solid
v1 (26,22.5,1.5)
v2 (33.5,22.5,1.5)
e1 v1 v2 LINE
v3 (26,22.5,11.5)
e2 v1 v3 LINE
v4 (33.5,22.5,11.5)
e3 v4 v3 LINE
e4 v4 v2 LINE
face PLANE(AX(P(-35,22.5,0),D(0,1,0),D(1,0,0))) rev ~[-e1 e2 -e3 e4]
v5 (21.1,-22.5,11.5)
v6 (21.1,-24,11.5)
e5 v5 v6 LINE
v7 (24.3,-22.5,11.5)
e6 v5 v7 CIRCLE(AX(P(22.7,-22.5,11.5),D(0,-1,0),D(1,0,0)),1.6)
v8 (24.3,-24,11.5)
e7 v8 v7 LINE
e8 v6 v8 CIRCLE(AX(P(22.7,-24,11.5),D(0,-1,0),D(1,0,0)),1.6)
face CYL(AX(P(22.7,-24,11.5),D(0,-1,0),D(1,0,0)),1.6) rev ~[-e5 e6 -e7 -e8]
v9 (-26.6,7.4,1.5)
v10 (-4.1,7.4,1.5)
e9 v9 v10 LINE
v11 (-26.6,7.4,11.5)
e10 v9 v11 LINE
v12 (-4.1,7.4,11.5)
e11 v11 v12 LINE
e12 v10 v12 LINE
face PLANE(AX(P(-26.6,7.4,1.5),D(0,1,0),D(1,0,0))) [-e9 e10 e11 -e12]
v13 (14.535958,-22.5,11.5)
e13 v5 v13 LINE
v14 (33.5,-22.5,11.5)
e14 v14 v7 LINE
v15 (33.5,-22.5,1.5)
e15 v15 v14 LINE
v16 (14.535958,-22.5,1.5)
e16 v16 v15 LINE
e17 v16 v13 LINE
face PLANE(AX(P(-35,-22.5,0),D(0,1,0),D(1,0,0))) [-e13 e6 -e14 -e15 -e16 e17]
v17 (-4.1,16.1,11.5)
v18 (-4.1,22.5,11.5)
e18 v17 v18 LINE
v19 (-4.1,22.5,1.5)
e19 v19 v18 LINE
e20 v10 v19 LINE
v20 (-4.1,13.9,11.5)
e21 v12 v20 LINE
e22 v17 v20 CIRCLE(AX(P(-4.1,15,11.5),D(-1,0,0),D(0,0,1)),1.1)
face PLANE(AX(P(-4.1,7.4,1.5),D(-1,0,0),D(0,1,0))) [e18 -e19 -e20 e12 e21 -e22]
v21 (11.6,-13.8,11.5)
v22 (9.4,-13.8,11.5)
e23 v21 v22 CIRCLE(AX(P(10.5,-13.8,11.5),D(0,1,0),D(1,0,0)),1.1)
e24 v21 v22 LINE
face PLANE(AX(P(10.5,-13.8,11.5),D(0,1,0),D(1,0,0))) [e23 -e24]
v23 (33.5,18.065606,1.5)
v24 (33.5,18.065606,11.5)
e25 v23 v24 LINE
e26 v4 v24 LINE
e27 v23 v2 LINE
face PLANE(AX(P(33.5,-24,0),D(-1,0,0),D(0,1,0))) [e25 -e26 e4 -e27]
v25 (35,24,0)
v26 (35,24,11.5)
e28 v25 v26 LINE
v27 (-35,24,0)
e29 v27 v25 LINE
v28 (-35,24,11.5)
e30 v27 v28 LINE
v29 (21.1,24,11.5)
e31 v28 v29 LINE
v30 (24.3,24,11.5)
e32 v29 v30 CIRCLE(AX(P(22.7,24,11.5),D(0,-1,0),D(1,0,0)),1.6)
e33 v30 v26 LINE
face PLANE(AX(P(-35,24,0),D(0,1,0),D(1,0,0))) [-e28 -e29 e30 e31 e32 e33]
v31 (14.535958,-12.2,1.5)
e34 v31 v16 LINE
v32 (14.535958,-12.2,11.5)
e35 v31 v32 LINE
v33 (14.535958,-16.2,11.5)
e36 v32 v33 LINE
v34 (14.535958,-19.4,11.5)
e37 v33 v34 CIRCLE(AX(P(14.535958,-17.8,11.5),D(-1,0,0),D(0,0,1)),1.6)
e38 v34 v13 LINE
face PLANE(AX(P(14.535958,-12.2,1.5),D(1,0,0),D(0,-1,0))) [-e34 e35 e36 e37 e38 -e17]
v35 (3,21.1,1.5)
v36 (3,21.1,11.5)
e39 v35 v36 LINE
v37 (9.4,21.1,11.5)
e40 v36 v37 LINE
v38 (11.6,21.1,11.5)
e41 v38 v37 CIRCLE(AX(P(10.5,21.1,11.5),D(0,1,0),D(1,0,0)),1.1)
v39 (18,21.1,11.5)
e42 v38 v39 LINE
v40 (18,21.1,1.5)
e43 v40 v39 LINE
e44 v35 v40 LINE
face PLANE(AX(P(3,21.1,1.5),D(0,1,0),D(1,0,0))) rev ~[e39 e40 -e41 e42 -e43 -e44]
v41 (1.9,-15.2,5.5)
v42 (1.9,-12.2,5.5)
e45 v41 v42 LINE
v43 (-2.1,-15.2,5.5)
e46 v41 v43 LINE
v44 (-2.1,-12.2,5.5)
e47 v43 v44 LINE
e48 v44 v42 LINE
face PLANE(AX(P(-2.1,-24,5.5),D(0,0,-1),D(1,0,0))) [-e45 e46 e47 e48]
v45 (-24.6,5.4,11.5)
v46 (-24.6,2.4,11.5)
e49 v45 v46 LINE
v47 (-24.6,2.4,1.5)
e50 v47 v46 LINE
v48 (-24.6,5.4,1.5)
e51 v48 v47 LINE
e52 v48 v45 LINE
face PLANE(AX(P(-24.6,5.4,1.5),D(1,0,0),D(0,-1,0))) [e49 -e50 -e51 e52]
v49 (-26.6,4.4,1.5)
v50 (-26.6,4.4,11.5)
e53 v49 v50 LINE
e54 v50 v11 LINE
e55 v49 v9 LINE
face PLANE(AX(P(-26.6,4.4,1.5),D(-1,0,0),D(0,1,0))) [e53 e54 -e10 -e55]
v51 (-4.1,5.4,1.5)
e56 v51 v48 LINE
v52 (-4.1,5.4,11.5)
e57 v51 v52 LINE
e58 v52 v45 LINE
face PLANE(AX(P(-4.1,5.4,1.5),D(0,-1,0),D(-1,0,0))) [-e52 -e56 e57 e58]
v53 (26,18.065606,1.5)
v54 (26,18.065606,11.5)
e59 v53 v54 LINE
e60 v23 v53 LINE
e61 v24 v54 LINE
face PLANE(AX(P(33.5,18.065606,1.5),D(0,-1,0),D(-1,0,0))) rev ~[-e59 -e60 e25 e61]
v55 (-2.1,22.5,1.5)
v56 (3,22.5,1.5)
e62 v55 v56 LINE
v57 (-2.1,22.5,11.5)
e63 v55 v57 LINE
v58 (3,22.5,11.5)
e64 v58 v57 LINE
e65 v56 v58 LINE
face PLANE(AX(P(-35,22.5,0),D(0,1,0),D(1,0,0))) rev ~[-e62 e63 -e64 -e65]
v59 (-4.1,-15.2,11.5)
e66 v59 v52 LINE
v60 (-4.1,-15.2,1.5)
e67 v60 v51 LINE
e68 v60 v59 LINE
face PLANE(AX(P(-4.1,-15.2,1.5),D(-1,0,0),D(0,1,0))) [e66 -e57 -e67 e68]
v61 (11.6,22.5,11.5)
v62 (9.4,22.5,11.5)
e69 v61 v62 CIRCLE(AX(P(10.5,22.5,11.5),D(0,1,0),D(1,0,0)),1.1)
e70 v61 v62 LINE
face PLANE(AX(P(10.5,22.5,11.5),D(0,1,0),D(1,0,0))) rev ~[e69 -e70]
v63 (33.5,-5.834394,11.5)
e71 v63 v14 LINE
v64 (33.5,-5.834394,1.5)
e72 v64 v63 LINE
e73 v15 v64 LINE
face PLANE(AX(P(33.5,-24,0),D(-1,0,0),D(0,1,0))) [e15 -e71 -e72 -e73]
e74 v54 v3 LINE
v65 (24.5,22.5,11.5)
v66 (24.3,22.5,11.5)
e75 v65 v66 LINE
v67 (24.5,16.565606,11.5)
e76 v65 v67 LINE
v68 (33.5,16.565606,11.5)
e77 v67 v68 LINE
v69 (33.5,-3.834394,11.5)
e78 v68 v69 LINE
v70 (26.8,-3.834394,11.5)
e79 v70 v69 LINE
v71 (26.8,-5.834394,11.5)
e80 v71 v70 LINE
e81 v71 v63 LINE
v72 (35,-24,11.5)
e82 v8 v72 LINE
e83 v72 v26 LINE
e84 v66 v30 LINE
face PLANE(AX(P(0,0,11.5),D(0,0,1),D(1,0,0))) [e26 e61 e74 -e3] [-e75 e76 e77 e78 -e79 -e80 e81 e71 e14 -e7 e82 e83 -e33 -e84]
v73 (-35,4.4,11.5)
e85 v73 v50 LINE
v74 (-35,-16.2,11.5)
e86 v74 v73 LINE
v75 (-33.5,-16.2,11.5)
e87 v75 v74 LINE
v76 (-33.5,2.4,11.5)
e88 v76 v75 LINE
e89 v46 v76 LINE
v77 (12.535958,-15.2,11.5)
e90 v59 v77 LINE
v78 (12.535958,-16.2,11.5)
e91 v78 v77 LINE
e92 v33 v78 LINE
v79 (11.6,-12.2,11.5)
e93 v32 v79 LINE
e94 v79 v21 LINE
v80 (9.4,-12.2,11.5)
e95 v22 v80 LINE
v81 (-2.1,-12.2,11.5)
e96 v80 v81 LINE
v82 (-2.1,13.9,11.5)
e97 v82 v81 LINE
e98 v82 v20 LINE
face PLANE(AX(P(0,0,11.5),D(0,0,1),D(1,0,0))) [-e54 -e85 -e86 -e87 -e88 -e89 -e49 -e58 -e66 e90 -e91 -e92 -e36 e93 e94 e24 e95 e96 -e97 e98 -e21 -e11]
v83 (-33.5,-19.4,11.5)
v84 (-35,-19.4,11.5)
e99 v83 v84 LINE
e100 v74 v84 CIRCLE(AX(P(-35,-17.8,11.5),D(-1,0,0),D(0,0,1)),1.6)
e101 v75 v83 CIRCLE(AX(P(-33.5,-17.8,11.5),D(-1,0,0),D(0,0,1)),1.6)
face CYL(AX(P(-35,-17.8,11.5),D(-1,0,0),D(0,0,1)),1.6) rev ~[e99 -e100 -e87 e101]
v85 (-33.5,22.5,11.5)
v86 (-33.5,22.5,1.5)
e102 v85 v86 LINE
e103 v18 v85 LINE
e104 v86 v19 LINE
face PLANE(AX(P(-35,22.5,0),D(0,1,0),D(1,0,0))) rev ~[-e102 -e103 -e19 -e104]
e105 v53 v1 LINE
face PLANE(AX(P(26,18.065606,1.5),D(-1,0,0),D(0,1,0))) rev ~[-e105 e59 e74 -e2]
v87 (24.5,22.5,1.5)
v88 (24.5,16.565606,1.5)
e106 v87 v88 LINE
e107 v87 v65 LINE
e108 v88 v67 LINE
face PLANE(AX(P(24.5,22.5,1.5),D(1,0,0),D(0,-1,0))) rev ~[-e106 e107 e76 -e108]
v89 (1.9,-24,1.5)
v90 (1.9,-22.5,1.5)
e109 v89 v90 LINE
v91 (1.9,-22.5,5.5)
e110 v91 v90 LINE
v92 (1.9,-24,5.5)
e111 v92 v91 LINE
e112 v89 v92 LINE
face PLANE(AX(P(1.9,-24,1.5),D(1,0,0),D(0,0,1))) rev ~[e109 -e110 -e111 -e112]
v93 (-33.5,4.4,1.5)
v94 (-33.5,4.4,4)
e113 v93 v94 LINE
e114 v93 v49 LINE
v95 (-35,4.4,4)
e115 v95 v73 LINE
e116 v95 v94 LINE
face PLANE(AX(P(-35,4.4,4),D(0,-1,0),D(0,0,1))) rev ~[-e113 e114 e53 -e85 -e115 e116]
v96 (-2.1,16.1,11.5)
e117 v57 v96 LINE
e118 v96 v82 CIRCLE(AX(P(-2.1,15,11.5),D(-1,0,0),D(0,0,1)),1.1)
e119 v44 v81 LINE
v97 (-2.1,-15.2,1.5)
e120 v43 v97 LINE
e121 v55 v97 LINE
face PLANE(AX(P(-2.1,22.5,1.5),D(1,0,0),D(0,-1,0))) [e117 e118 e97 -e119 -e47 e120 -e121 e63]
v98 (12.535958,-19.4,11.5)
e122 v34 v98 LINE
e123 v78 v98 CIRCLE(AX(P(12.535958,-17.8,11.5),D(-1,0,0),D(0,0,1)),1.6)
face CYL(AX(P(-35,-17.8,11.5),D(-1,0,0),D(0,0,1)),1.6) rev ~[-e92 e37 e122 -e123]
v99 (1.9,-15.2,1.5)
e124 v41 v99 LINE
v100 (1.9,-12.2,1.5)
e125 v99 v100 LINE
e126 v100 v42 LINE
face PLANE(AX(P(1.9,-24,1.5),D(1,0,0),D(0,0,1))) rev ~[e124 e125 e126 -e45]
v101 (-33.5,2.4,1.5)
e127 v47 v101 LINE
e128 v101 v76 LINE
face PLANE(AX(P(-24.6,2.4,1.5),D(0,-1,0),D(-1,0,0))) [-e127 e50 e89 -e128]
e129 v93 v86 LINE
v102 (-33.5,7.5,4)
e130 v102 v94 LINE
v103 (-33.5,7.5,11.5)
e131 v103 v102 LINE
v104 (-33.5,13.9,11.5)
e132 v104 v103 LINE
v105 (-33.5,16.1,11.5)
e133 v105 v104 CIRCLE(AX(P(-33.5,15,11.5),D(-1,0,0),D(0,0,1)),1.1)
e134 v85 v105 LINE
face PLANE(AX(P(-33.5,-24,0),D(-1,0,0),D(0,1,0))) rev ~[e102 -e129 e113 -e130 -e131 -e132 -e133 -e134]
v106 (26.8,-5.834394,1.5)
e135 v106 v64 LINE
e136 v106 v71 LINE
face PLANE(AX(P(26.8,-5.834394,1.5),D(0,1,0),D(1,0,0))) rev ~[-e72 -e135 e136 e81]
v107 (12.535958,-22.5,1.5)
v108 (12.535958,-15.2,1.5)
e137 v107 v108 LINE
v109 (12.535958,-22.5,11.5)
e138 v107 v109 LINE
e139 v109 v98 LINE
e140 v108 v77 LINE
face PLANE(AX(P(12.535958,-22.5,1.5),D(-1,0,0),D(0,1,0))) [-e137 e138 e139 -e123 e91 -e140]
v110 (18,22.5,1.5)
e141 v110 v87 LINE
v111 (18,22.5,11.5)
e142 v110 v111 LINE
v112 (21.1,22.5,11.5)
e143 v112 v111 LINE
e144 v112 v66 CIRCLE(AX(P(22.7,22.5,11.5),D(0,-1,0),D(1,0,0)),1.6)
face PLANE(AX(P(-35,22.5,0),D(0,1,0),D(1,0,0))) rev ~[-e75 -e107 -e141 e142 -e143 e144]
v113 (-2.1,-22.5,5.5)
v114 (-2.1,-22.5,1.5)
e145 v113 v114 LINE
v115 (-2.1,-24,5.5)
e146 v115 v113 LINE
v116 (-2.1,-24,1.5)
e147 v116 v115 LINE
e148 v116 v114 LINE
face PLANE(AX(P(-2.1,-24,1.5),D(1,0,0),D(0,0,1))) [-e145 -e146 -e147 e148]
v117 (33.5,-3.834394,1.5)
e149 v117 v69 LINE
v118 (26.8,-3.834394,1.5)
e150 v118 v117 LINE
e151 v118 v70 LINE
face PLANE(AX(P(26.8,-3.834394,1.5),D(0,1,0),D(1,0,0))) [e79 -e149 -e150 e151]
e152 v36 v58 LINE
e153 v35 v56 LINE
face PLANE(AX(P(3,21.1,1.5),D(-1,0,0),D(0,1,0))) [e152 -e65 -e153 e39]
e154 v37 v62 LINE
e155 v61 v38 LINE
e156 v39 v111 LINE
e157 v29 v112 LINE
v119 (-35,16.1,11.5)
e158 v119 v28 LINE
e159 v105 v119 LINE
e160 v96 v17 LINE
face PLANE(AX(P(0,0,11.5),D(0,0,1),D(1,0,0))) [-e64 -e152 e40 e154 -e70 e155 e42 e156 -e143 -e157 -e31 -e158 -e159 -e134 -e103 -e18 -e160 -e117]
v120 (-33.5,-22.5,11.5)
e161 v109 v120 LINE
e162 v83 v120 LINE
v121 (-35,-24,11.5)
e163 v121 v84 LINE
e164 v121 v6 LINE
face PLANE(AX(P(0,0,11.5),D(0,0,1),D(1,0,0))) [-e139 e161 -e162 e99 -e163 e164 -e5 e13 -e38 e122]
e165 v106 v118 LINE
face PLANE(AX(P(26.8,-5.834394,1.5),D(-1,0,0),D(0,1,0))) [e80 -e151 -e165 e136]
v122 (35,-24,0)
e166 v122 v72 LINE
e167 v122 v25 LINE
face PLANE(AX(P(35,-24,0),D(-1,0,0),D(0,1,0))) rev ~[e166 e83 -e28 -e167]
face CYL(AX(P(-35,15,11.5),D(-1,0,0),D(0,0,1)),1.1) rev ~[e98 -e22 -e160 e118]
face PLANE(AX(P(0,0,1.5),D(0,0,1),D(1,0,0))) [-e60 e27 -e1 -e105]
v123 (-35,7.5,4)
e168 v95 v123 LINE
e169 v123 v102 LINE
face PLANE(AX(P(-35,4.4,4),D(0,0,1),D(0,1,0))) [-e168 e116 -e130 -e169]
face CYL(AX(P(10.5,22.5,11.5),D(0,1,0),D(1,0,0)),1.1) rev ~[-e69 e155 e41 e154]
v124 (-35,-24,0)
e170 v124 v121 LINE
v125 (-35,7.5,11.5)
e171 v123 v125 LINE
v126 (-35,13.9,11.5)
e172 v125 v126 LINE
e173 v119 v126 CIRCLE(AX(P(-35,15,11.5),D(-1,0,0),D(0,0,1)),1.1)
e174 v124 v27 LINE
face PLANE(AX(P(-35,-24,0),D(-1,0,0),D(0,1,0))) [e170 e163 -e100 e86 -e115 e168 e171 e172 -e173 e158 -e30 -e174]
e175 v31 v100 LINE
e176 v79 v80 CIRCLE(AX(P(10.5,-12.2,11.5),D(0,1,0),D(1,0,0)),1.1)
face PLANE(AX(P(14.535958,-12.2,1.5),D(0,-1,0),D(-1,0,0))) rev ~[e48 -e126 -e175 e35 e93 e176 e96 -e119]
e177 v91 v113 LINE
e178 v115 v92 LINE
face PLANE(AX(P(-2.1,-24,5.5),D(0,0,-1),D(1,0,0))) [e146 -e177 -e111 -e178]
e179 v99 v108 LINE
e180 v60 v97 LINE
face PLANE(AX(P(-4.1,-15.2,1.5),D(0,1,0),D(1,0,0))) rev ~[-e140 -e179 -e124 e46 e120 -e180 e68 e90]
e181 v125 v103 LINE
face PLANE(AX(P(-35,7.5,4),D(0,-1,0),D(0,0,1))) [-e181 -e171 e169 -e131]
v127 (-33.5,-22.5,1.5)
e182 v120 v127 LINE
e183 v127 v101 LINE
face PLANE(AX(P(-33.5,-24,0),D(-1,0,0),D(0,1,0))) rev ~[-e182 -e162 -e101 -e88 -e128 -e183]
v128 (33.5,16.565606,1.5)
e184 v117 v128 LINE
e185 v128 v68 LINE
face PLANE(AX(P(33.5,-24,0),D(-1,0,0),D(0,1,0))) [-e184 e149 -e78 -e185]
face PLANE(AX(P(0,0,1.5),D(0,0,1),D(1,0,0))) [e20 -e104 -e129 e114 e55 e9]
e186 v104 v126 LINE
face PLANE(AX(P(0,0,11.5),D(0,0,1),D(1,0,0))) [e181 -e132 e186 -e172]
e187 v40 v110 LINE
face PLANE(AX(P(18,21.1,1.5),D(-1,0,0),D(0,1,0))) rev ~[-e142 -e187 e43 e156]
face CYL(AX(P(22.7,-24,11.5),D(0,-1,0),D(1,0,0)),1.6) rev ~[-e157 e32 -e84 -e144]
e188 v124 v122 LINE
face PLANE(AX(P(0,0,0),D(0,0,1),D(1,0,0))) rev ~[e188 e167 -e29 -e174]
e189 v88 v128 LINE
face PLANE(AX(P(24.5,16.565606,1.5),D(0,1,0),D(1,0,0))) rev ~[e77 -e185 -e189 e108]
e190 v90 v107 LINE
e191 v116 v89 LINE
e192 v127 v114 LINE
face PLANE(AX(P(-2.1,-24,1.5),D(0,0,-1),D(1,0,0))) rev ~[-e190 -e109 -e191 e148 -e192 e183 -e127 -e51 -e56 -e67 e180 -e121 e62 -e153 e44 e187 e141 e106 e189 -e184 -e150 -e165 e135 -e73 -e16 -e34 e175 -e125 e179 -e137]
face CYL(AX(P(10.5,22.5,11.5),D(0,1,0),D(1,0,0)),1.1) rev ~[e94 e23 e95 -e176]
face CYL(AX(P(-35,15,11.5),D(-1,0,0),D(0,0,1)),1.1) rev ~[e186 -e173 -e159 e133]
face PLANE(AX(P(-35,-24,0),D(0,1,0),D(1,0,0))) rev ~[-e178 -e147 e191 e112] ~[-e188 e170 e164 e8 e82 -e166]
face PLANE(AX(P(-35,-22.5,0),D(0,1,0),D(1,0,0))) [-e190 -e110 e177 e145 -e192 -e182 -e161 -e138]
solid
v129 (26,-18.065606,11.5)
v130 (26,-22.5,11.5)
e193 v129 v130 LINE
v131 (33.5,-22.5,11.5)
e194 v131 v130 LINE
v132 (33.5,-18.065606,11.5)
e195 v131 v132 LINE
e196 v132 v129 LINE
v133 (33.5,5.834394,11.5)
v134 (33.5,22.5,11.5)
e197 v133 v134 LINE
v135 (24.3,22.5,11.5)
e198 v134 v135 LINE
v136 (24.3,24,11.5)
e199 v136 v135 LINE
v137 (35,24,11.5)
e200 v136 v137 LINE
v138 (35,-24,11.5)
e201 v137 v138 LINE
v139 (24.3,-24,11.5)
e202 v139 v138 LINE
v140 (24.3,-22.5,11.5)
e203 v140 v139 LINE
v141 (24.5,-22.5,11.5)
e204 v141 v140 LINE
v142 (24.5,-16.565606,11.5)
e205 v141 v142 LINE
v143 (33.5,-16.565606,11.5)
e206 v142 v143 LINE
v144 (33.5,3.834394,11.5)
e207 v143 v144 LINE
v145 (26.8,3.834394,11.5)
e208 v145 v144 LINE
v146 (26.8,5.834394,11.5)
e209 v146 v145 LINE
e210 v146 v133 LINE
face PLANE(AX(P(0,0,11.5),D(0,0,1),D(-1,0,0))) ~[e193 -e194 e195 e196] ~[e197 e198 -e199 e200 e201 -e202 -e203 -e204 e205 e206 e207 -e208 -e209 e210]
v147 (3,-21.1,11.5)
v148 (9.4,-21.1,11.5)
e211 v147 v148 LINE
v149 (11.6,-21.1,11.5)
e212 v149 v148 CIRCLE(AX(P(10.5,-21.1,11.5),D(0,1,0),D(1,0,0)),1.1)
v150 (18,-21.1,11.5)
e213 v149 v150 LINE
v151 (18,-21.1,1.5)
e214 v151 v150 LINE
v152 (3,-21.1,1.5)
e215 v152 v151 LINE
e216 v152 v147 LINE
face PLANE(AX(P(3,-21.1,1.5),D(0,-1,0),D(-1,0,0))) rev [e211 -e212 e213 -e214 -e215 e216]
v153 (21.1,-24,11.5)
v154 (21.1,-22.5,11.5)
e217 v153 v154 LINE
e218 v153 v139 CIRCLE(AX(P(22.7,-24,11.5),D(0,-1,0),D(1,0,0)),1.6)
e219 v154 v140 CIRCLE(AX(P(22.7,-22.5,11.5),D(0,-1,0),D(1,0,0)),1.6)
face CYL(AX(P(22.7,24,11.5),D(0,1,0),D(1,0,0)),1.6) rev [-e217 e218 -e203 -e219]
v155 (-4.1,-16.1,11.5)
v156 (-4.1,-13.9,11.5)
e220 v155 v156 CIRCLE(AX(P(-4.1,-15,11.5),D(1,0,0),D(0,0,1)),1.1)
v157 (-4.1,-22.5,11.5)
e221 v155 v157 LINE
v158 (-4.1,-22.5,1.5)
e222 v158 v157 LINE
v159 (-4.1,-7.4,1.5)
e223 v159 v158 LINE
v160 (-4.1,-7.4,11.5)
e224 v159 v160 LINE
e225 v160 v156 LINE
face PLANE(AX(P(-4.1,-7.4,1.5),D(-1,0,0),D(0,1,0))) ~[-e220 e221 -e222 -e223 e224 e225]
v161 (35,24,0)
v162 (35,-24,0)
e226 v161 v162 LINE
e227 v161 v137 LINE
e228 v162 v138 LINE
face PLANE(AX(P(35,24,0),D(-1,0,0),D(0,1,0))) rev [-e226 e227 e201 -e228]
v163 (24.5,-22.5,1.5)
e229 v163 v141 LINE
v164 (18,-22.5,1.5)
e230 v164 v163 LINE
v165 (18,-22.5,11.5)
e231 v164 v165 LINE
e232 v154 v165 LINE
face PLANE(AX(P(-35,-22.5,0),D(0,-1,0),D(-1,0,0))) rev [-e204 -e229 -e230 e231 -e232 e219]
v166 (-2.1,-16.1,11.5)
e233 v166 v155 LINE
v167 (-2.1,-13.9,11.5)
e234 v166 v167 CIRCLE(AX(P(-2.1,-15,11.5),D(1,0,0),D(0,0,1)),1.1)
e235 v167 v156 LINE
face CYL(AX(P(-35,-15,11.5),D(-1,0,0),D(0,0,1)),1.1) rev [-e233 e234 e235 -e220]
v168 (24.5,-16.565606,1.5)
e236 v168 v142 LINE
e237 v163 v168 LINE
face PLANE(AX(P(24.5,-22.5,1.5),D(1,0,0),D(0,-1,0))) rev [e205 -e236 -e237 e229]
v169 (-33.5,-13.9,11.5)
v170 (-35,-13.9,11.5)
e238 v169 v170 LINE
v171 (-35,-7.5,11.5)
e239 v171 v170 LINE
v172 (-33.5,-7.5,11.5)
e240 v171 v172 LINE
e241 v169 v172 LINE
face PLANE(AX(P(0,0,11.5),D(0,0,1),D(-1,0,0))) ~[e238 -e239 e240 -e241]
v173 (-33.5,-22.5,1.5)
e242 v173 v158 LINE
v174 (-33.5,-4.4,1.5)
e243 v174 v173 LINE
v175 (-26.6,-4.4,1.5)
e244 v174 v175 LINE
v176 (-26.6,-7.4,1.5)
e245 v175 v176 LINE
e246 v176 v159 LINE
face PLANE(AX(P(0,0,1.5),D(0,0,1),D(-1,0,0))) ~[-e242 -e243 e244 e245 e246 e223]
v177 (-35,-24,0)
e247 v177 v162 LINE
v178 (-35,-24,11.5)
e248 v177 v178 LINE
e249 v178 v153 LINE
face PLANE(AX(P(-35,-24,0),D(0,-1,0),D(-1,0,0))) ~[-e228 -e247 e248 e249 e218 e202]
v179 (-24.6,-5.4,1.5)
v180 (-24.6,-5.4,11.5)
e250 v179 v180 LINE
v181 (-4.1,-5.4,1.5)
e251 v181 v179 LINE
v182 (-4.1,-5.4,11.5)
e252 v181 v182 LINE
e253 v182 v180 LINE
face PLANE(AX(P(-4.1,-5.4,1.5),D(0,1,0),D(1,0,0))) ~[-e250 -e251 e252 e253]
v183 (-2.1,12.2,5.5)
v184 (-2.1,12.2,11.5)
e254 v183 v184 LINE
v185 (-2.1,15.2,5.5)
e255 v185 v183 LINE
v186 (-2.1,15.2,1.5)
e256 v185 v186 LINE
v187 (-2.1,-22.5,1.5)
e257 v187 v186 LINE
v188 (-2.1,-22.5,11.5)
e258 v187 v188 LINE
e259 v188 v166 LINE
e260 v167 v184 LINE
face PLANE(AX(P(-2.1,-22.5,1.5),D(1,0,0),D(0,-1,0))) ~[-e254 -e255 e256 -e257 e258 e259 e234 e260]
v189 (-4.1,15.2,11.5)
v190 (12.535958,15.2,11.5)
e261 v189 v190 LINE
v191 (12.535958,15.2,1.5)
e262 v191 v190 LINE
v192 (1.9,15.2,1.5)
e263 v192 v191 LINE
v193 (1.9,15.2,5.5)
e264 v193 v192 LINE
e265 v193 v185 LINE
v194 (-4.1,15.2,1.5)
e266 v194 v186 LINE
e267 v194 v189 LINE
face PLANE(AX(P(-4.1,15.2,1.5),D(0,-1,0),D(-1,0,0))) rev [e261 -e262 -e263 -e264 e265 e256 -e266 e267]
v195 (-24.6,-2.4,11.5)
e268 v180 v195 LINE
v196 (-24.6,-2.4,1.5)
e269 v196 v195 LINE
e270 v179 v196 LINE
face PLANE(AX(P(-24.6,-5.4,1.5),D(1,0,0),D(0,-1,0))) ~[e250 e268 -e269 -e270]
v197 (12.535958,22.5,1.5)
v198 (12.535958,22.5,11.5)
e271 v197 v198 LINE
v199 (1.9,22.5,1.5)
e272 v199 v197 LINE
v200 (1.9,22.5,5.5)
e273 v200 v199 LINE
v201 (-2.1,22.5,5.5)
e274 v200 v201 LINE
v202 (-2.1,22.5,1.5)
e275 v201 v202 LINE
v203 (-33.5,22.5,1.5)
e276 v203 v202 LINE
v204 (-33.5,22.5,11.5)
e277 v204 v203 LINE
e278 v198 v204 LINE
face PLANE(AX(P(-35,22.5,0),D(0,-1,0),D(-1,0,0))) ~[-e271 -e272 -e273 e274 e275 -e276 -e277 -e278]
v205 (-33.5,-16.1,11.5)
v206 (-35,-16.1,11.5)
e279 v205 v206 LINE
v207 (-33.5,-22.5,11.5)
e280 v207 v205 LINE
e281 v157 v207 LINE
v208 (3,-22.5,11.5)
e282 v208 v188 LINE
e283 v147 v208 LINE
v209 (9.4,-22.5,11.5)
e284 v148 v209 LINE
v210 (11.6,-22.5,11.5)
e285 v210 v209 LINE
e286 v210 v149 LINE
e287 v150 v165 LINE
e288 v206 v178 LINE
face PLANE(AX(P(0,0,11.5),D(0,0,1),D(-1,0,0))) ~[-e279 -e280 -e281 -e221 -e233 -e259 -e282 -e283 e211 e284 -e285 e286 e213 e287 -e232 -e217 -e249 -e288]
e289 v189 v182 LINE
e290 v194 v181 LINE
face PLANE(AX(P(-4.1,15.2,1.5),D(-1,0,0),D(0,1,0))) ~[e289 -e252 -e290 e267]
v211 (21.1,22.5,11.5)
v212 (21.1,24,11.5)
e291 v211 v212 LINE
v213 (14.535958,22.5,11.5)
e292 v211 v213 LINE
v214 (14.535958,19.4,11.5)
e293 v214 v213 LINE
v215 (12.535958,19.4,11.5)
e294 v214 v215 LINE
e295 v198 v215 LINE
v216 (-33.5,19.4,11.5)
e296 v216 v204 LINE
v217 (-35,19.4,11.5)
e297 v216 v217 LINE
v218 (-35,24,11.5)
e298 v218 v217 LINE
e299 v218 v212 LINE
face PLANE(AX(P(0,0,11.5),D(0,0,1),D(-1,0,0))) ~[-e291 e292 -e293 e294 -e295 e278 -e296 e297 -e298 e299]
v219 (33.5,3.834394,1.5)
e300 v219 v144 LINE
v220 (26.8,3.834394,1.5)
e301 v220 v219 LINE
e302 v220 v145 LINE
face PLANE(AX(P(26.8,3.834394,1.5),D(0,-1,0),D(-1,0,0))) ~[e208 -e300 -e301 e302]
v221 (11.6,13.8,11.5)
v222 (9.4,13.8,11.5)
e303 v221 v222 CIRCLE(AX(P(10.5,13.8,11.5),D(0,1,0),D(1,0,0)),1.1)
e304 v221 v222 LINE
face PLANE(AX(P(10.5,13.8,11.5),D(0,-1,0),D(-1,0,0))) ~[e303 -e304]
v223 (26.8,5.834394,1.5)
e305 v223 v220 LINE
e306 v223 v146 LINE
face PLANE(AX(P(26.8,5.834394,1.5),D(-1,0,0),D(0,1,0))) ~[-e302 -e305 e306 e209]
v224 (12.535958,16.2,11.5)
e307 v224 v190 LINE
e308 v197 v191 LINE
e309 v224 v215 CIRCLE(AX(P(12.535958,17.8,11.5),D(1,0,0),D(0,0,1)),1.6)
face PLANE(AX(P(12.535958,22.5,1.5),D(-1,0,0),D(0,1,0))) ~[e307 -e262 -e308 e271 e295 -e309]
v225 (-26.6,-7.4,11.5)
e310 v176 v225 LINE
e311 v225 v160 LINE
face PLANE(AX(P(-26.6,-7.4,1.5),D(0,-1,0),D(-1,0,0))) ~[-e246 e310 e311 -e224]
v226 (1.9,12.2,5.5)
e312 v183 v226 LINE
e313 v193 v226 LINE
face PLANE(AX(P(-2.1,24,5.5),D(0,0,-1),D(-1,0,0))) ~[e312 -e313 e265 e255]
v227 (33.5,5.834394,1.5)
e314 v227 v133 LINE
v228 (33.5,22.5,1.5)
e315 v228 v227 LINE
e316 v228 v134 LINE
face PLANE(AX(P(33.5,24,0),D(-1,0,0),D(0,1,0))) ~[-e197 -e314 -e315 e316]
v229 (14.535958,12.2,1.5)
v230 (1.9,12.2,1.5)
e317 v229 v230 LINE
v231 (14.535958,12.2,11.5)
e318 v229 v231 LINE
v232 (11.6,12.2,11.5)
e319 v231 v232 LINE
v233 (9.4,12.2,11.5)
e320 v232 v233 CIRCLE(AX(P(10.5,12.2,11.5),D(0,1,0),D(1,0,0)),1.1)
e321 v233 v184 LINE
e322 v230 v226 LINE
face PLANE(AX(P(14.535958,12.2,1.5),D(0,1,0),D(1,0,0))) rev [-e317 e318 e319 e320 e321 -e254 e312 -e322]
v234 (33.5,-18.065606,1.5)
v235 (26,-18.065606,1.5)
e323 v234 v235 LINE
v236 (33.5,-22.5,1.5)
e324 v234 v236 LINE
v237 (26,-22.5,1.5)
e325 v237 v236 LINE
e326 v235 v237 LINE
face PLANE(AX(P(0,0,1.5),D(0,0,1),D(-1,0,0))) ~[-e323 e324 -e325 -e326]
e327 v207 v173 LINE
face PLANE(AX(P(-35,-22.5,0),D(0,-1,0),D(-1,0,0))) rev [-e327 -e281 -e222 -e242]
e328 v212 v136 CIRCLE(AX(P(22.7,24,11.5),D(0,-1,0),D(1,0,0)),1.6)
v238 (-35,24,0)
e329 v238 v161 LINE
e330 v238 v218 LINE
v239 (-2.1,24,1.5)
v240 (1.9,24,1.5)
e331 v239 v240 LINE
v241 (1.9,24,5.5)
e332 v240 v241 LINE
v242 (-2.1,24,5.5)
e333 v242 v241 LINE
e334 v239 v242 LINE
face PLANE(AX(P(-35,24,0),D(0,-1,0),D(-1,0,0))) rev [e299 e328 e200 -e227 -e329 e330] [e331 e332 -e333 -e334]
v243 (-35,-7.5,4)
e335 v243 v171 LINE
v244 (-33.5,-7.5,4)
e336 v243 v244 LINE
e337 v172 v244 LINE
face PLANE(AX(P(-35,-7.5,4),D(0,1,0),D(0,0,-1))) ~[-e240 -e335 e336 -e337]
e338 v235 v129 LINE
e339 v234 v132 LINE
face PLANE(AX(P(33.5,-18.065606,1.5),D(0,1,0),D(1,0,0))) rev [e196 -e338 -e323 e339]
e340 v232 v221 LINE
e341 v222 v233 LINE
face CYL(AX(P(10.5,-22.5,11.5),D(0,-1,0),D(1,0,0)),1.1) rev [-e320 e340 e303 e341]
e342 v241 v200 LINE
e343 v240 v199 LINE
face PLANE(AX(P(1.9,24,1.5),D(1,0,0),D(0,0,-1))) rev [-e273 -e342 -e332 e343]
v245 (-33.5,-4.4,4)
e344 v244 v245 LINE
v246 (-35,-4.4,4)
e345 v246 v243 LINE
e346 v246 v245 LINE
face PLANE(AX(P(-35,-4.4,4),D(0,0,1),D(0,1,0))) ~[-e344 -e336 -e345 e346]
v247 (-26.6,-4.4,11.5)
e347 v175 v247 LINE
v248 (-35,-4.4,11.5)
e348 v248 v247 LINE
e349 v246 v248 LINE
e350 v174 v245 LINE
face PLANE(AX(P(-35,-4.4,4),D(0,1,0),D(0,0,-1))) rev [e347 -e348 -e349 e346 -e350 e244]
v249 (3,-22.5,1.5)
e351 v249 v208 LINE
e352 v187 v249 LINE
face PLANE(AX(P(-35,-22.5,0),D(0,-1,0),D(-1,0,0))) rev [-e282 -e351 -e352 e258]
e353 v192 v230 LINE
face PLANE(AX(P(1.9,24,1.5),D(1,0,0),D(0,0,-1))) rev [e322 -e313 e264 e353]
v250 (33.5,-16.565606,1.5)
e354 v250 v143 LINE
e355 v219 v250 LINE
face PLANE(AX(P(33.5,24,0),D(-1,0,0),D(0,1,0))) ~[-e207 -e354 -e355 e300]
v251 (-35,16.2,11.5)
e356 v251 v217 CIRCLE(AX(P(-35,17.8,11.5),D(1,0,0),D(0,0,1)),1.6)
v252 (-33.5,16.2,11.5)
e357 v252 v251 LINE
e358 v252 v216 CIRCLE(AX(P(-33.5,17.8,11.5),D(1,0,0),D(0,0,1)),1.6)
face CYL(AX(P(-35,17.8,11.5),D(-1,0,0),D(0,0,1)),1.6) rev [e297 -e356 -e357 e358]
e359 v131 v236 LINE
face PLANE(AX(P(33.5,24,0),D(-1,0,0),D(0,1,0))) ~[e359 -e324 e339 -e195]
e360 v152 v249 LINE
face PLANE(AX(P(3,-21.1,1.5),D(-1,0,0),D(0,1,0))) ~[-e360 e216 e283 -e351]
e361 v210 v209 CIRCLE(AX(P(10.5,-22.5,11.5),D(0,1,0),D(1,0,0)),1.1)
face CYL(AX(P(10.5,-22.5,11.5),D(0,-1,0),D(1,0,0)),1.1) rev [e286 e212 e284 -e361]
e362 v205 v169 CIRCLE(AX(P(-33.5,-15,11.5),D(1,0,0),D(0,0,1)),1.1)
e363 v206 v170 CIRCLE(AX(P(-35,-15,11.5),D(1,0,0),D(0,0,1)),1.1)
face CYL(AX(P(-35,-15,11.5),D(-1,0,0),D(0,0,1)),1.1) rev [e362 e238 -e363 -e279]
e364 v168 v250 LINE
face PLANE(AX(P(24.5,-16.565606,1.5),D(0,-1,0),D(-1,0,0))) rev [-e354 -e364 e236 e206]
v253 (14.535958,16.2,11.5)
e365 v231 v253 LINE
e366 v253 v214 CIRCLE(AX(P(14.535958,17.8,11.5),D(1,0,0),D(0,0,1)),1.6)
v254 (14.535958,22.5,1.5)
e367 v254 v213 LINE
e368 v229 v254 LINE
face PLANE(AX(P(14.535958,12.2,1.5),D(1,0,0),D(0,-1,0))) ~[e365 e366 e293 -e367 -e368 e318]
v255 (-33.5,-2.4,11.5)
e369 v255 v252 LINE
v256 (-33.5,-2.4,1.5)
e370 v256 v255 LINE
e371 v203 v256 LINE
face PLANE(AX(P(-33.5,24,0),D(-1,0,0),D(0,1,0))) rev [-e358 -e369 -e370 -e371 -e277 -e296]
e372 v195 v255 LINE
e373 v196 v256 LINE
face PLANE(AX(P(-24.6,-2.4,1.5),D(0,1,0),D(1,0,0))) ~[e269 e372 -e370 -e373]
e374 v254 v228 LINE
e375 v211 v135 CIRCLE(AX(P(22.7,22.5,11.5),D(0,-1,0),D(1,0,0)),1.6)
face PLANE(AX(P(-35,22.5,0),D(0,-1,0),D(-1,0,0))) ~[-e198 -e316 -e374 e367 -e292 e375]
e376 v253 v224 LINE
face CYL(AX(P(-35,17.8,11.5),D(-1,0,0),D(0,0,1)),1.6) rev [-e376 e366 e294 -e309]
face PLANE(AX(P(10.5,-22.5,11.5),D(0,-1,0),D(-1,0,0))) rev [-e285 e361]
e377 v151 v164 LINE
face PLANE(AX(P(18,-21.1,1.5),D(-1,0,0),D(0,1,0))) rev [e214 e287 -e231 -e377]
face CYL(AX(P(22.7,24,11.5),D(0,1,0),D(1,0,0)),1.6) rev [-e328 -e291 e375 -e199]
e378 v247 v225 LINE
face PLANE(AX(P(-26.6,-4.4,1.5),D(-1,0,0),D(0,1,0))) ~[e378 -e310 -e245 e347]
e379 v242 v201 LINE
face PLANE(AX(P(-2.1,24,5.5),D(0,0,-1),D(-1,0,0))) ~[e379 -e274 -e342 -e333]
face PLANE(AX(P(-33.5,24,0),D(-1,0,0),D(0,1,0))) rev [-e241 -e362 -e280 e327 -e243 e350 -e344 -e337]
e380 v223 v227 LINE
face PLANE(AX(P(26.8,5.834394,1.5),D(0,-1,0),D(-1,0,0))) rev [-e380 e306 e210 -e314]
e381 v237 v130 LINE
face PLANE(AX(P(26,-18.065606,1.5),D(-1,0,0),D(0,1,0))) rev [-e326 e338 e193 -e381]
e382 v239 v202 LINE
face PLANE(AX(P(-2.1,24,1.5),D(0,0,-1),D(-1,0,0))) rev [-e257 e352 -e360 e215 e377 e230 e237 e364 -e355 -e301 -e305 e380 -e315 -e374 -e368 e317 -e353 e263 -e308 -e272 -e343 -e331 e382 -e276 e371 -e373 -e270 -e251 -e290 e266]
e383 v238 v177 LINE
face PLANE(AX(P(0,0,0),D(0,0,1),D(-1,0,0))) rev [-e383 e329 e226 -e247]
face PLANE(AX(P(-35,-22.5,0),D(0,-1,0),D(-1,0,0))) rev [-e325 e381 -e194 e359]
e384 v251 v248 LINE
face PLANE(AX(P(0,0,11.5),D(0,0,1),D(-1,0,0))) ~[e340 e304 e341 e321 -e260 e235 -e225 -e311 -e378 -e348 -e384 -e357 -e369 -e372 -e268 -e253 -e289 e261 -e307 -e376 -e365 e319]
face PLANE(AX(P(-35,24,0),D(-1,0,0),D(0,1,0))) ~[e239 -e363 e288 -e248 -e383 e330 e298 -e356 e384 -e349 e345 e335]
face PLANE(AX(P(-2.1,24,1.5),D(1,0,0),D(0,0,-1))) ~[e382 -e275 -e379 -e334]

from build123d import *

# Parameters (mm, degrees)
SKETCH_1_W          = 70
SKETCH_1_H          = 48
EXTRUDE_1_DEPTH     = 11.5
SHELL_1_T           = -1.5
SKETCH_2_W          = 15
SKETCH_2_H          = 1.4
SKETCH_2_W_2        = 6.7
SKETCH_2_H_2        = 2
EXTRUDE_2_DEPTH     = 10
SKETCH_3_W          = 4
SKETCH_3_H          = 4
CUT_EXTRUDE_1_DEPTH = 20
SKETCH_4_R          = 1.6
CUT_EXTRUDE_2_DEPTH = 61.508263898
CUT_EXTRUDE_3_REACH = 76.888
SKETCH_5_R          = 1.6
SKETCH_5_R_2        = 1.1
CUT_EXTRUDE_START   = -1.5
SKETCH_6_R          = 1.1
CUT_EXTRUDE_4_DEPTH = 36.3
CUT_EXTRUDE_5_REACH = 76.888
SKETCH_8_W          = 7.5
SKETCH_8_H          = 3.1


with BuildPart() as part:
    # 草图1 → 凸台-拉伸1 (new body)
    with BuildSketch(Plane.XY):
        Rectangle(SKETCH_1_W, SKETCH_1_H)
    extrude(amount=EXTRUDE_1_DEPTH)

    # 抽壳1
    shell_1_openings = [part.faces().sort_by_distance(p)[0] for p in [
        (0, 0, 11.5),
    ]]
    offset(amount=SHELL_1_T, openings=shell_1_openings, kind=Kind.INTERSECTION)

    # 草图2 → 凸台-拉伸2 (add)
    with BuildSketch(Plane.XY.offset(1.5)):
        Polygon((-26.6, 7.4), (-4.1, 7.4), (-4.1, 22.5), (-2.1, 22.5), (-2.1, -12.2), (6.455957795, -12.2), (14.535957795, -12.2), (14.535957795, -22.5), (12.535957795, -22.5), (12.535957795, -15.2), (8.455957795, -15.2), (-4.1, -15.2), (-4.1, 5.4), (-24.6, 5.4), (-24.6, 2.4), (-33.5, 2.4), (-33.5, 4.4), (-26.6, 4.4), align=None)
        with Locations((10.5, 21.8)):
            Rectangle(SKETCH_2_W, SKETCH_2_H)
        Polygon((24.5, 22.5), (24.5, 16.56560625), (33.5, 16.56560625), (33.5, 18.06560625), (26, 18.06560625), (26, 22.5), align=None)
        with Locations((30.15, -4.83439375)):
            Rectangle(SKETCH_2_W_2, SKETCH_2_H_2)
    extrude(amount=EXTRUDE_2_DEPTH)

    # 草图3 → 切除-拉伸1 (cut)
    with BuildSketch(Plane.XZ.offset(24)):
        with Locations((-0.1, 3.5)):
            Rectangle(SKETCH_3_W, SKETCH_3_H)
    extrude(amount=-CUT_EXTRUDE_1_DEPTH, mode=Mode.SUBTRACT)

    # 草图4 → 切除-拉伸2 (cut, through all)
    with BuildSketch(Plane.XZ.offset(24)):
        with Locations((22.7, 11.5)):
            Circle(SKETCH_4_R)
    extrude(amount=-CUT_EXTRUDE_2_DEPTH, mode=Mode.SUBTRACT)

    # 切除-拉伸3: up to this face of the body (flat: up to its plane)
    cut_extrude_3_end = Plane(part.part.faces().sort_by_distance((14.535957795, -17.35, 6.5))[0])
    # 草图5 → 切除-拉伸3 (cut, up to the picked face)
    with BuildSketch(Plane.ZY.offset(35), mode=Mode.PRIVATE) as cut_extrude_3_sk1:
        with Locations((11.5, -17.8)):
            Circle(SKETCH_5_R)
    cut_extrude_3_tool1 = split(extrude(cut_extrude_3_sk1.sketch, amount=-CUT_EXTRUDE_3_REACH, mode=Mode.PRIVATE), bisect_by=cut_extrude_3_end, keep=Keep.BOTH, mode=Mode.PRIVATE)
    # 草图5 → 切除-拉伸3 (cut, up to the picked face)
    with BuildSketch(Plane.ZY.offset(35), mode=Mode.PRIVATE) as cut_extrude_3_sk2:
        with Locations((11.5, 15)):
            Circle(SKETCH_5_R_2)
    cut_extrude_3_tool2 = split(extrude(cut_extrude_3_sk2.sketch, amount=-CUT_EXTRUDE_3_REACH, mode=Mode.PRIVATE), bisect_by=cut_extrude_3_end, keep=Keep.BOTH, mode=Mode.PRIVATE)
    add(cut_extrude_3_tool1.solids().sort_by(Axis((-35, -17.8, 11.5), (1, 0, 0)))[0], mode=Mode.SUBTRACT)
    add(cut_extrude_3_tool2.solids().sort_by(Axis((-35, 15, 11.5), (1, 0, 0)))[0], mode=Mode.SUBTRACT)

    # 草图6 → 切除-拉伸4 (cut)
    with BuildSketch(Plane(origin=(0, 24, 0), x_dir=(1, 0, 0), z_dir=(0, 1, 0)).offset(CUT_EXTRUDE_START)):
        with Locations((10.5, -11.5)):
            Circle(SKETCH_6_R)
    extrude(amount=-CUT_EXTRUDE_4_DEPTH, mode=Mode.SUBTRACT)

    # 草图8 → 切除-拉伸5 (cut, up to next)
    with BuildSketch(Plane.ZY.offset(35), mode=Mode.PRIVATE) as cut_extrude_5_sk1:
        with Locations((7.75, 5.95)):
            Rectangle(SKETCH_8_W, SKETCH_8_H)
    cut_extrude_5_tool1 = extrude(cut_extrude_5_sk1.sketch, amount=-CUT_EXTRUDE_5_REACH, mode=Mode.PRIVATE) & part.part
    add(cut_extrude_5_tool1.solids().sort_by_distance((-35, 5.95, 7.75))[0], mode=Mode.SUBTRACT)


with BuildPart() as body_2:
    # 镜向1: mirrored copy
    add(part.part.mirror(Plane.ZX))


solid = Compound([part.part, body_2.part])
